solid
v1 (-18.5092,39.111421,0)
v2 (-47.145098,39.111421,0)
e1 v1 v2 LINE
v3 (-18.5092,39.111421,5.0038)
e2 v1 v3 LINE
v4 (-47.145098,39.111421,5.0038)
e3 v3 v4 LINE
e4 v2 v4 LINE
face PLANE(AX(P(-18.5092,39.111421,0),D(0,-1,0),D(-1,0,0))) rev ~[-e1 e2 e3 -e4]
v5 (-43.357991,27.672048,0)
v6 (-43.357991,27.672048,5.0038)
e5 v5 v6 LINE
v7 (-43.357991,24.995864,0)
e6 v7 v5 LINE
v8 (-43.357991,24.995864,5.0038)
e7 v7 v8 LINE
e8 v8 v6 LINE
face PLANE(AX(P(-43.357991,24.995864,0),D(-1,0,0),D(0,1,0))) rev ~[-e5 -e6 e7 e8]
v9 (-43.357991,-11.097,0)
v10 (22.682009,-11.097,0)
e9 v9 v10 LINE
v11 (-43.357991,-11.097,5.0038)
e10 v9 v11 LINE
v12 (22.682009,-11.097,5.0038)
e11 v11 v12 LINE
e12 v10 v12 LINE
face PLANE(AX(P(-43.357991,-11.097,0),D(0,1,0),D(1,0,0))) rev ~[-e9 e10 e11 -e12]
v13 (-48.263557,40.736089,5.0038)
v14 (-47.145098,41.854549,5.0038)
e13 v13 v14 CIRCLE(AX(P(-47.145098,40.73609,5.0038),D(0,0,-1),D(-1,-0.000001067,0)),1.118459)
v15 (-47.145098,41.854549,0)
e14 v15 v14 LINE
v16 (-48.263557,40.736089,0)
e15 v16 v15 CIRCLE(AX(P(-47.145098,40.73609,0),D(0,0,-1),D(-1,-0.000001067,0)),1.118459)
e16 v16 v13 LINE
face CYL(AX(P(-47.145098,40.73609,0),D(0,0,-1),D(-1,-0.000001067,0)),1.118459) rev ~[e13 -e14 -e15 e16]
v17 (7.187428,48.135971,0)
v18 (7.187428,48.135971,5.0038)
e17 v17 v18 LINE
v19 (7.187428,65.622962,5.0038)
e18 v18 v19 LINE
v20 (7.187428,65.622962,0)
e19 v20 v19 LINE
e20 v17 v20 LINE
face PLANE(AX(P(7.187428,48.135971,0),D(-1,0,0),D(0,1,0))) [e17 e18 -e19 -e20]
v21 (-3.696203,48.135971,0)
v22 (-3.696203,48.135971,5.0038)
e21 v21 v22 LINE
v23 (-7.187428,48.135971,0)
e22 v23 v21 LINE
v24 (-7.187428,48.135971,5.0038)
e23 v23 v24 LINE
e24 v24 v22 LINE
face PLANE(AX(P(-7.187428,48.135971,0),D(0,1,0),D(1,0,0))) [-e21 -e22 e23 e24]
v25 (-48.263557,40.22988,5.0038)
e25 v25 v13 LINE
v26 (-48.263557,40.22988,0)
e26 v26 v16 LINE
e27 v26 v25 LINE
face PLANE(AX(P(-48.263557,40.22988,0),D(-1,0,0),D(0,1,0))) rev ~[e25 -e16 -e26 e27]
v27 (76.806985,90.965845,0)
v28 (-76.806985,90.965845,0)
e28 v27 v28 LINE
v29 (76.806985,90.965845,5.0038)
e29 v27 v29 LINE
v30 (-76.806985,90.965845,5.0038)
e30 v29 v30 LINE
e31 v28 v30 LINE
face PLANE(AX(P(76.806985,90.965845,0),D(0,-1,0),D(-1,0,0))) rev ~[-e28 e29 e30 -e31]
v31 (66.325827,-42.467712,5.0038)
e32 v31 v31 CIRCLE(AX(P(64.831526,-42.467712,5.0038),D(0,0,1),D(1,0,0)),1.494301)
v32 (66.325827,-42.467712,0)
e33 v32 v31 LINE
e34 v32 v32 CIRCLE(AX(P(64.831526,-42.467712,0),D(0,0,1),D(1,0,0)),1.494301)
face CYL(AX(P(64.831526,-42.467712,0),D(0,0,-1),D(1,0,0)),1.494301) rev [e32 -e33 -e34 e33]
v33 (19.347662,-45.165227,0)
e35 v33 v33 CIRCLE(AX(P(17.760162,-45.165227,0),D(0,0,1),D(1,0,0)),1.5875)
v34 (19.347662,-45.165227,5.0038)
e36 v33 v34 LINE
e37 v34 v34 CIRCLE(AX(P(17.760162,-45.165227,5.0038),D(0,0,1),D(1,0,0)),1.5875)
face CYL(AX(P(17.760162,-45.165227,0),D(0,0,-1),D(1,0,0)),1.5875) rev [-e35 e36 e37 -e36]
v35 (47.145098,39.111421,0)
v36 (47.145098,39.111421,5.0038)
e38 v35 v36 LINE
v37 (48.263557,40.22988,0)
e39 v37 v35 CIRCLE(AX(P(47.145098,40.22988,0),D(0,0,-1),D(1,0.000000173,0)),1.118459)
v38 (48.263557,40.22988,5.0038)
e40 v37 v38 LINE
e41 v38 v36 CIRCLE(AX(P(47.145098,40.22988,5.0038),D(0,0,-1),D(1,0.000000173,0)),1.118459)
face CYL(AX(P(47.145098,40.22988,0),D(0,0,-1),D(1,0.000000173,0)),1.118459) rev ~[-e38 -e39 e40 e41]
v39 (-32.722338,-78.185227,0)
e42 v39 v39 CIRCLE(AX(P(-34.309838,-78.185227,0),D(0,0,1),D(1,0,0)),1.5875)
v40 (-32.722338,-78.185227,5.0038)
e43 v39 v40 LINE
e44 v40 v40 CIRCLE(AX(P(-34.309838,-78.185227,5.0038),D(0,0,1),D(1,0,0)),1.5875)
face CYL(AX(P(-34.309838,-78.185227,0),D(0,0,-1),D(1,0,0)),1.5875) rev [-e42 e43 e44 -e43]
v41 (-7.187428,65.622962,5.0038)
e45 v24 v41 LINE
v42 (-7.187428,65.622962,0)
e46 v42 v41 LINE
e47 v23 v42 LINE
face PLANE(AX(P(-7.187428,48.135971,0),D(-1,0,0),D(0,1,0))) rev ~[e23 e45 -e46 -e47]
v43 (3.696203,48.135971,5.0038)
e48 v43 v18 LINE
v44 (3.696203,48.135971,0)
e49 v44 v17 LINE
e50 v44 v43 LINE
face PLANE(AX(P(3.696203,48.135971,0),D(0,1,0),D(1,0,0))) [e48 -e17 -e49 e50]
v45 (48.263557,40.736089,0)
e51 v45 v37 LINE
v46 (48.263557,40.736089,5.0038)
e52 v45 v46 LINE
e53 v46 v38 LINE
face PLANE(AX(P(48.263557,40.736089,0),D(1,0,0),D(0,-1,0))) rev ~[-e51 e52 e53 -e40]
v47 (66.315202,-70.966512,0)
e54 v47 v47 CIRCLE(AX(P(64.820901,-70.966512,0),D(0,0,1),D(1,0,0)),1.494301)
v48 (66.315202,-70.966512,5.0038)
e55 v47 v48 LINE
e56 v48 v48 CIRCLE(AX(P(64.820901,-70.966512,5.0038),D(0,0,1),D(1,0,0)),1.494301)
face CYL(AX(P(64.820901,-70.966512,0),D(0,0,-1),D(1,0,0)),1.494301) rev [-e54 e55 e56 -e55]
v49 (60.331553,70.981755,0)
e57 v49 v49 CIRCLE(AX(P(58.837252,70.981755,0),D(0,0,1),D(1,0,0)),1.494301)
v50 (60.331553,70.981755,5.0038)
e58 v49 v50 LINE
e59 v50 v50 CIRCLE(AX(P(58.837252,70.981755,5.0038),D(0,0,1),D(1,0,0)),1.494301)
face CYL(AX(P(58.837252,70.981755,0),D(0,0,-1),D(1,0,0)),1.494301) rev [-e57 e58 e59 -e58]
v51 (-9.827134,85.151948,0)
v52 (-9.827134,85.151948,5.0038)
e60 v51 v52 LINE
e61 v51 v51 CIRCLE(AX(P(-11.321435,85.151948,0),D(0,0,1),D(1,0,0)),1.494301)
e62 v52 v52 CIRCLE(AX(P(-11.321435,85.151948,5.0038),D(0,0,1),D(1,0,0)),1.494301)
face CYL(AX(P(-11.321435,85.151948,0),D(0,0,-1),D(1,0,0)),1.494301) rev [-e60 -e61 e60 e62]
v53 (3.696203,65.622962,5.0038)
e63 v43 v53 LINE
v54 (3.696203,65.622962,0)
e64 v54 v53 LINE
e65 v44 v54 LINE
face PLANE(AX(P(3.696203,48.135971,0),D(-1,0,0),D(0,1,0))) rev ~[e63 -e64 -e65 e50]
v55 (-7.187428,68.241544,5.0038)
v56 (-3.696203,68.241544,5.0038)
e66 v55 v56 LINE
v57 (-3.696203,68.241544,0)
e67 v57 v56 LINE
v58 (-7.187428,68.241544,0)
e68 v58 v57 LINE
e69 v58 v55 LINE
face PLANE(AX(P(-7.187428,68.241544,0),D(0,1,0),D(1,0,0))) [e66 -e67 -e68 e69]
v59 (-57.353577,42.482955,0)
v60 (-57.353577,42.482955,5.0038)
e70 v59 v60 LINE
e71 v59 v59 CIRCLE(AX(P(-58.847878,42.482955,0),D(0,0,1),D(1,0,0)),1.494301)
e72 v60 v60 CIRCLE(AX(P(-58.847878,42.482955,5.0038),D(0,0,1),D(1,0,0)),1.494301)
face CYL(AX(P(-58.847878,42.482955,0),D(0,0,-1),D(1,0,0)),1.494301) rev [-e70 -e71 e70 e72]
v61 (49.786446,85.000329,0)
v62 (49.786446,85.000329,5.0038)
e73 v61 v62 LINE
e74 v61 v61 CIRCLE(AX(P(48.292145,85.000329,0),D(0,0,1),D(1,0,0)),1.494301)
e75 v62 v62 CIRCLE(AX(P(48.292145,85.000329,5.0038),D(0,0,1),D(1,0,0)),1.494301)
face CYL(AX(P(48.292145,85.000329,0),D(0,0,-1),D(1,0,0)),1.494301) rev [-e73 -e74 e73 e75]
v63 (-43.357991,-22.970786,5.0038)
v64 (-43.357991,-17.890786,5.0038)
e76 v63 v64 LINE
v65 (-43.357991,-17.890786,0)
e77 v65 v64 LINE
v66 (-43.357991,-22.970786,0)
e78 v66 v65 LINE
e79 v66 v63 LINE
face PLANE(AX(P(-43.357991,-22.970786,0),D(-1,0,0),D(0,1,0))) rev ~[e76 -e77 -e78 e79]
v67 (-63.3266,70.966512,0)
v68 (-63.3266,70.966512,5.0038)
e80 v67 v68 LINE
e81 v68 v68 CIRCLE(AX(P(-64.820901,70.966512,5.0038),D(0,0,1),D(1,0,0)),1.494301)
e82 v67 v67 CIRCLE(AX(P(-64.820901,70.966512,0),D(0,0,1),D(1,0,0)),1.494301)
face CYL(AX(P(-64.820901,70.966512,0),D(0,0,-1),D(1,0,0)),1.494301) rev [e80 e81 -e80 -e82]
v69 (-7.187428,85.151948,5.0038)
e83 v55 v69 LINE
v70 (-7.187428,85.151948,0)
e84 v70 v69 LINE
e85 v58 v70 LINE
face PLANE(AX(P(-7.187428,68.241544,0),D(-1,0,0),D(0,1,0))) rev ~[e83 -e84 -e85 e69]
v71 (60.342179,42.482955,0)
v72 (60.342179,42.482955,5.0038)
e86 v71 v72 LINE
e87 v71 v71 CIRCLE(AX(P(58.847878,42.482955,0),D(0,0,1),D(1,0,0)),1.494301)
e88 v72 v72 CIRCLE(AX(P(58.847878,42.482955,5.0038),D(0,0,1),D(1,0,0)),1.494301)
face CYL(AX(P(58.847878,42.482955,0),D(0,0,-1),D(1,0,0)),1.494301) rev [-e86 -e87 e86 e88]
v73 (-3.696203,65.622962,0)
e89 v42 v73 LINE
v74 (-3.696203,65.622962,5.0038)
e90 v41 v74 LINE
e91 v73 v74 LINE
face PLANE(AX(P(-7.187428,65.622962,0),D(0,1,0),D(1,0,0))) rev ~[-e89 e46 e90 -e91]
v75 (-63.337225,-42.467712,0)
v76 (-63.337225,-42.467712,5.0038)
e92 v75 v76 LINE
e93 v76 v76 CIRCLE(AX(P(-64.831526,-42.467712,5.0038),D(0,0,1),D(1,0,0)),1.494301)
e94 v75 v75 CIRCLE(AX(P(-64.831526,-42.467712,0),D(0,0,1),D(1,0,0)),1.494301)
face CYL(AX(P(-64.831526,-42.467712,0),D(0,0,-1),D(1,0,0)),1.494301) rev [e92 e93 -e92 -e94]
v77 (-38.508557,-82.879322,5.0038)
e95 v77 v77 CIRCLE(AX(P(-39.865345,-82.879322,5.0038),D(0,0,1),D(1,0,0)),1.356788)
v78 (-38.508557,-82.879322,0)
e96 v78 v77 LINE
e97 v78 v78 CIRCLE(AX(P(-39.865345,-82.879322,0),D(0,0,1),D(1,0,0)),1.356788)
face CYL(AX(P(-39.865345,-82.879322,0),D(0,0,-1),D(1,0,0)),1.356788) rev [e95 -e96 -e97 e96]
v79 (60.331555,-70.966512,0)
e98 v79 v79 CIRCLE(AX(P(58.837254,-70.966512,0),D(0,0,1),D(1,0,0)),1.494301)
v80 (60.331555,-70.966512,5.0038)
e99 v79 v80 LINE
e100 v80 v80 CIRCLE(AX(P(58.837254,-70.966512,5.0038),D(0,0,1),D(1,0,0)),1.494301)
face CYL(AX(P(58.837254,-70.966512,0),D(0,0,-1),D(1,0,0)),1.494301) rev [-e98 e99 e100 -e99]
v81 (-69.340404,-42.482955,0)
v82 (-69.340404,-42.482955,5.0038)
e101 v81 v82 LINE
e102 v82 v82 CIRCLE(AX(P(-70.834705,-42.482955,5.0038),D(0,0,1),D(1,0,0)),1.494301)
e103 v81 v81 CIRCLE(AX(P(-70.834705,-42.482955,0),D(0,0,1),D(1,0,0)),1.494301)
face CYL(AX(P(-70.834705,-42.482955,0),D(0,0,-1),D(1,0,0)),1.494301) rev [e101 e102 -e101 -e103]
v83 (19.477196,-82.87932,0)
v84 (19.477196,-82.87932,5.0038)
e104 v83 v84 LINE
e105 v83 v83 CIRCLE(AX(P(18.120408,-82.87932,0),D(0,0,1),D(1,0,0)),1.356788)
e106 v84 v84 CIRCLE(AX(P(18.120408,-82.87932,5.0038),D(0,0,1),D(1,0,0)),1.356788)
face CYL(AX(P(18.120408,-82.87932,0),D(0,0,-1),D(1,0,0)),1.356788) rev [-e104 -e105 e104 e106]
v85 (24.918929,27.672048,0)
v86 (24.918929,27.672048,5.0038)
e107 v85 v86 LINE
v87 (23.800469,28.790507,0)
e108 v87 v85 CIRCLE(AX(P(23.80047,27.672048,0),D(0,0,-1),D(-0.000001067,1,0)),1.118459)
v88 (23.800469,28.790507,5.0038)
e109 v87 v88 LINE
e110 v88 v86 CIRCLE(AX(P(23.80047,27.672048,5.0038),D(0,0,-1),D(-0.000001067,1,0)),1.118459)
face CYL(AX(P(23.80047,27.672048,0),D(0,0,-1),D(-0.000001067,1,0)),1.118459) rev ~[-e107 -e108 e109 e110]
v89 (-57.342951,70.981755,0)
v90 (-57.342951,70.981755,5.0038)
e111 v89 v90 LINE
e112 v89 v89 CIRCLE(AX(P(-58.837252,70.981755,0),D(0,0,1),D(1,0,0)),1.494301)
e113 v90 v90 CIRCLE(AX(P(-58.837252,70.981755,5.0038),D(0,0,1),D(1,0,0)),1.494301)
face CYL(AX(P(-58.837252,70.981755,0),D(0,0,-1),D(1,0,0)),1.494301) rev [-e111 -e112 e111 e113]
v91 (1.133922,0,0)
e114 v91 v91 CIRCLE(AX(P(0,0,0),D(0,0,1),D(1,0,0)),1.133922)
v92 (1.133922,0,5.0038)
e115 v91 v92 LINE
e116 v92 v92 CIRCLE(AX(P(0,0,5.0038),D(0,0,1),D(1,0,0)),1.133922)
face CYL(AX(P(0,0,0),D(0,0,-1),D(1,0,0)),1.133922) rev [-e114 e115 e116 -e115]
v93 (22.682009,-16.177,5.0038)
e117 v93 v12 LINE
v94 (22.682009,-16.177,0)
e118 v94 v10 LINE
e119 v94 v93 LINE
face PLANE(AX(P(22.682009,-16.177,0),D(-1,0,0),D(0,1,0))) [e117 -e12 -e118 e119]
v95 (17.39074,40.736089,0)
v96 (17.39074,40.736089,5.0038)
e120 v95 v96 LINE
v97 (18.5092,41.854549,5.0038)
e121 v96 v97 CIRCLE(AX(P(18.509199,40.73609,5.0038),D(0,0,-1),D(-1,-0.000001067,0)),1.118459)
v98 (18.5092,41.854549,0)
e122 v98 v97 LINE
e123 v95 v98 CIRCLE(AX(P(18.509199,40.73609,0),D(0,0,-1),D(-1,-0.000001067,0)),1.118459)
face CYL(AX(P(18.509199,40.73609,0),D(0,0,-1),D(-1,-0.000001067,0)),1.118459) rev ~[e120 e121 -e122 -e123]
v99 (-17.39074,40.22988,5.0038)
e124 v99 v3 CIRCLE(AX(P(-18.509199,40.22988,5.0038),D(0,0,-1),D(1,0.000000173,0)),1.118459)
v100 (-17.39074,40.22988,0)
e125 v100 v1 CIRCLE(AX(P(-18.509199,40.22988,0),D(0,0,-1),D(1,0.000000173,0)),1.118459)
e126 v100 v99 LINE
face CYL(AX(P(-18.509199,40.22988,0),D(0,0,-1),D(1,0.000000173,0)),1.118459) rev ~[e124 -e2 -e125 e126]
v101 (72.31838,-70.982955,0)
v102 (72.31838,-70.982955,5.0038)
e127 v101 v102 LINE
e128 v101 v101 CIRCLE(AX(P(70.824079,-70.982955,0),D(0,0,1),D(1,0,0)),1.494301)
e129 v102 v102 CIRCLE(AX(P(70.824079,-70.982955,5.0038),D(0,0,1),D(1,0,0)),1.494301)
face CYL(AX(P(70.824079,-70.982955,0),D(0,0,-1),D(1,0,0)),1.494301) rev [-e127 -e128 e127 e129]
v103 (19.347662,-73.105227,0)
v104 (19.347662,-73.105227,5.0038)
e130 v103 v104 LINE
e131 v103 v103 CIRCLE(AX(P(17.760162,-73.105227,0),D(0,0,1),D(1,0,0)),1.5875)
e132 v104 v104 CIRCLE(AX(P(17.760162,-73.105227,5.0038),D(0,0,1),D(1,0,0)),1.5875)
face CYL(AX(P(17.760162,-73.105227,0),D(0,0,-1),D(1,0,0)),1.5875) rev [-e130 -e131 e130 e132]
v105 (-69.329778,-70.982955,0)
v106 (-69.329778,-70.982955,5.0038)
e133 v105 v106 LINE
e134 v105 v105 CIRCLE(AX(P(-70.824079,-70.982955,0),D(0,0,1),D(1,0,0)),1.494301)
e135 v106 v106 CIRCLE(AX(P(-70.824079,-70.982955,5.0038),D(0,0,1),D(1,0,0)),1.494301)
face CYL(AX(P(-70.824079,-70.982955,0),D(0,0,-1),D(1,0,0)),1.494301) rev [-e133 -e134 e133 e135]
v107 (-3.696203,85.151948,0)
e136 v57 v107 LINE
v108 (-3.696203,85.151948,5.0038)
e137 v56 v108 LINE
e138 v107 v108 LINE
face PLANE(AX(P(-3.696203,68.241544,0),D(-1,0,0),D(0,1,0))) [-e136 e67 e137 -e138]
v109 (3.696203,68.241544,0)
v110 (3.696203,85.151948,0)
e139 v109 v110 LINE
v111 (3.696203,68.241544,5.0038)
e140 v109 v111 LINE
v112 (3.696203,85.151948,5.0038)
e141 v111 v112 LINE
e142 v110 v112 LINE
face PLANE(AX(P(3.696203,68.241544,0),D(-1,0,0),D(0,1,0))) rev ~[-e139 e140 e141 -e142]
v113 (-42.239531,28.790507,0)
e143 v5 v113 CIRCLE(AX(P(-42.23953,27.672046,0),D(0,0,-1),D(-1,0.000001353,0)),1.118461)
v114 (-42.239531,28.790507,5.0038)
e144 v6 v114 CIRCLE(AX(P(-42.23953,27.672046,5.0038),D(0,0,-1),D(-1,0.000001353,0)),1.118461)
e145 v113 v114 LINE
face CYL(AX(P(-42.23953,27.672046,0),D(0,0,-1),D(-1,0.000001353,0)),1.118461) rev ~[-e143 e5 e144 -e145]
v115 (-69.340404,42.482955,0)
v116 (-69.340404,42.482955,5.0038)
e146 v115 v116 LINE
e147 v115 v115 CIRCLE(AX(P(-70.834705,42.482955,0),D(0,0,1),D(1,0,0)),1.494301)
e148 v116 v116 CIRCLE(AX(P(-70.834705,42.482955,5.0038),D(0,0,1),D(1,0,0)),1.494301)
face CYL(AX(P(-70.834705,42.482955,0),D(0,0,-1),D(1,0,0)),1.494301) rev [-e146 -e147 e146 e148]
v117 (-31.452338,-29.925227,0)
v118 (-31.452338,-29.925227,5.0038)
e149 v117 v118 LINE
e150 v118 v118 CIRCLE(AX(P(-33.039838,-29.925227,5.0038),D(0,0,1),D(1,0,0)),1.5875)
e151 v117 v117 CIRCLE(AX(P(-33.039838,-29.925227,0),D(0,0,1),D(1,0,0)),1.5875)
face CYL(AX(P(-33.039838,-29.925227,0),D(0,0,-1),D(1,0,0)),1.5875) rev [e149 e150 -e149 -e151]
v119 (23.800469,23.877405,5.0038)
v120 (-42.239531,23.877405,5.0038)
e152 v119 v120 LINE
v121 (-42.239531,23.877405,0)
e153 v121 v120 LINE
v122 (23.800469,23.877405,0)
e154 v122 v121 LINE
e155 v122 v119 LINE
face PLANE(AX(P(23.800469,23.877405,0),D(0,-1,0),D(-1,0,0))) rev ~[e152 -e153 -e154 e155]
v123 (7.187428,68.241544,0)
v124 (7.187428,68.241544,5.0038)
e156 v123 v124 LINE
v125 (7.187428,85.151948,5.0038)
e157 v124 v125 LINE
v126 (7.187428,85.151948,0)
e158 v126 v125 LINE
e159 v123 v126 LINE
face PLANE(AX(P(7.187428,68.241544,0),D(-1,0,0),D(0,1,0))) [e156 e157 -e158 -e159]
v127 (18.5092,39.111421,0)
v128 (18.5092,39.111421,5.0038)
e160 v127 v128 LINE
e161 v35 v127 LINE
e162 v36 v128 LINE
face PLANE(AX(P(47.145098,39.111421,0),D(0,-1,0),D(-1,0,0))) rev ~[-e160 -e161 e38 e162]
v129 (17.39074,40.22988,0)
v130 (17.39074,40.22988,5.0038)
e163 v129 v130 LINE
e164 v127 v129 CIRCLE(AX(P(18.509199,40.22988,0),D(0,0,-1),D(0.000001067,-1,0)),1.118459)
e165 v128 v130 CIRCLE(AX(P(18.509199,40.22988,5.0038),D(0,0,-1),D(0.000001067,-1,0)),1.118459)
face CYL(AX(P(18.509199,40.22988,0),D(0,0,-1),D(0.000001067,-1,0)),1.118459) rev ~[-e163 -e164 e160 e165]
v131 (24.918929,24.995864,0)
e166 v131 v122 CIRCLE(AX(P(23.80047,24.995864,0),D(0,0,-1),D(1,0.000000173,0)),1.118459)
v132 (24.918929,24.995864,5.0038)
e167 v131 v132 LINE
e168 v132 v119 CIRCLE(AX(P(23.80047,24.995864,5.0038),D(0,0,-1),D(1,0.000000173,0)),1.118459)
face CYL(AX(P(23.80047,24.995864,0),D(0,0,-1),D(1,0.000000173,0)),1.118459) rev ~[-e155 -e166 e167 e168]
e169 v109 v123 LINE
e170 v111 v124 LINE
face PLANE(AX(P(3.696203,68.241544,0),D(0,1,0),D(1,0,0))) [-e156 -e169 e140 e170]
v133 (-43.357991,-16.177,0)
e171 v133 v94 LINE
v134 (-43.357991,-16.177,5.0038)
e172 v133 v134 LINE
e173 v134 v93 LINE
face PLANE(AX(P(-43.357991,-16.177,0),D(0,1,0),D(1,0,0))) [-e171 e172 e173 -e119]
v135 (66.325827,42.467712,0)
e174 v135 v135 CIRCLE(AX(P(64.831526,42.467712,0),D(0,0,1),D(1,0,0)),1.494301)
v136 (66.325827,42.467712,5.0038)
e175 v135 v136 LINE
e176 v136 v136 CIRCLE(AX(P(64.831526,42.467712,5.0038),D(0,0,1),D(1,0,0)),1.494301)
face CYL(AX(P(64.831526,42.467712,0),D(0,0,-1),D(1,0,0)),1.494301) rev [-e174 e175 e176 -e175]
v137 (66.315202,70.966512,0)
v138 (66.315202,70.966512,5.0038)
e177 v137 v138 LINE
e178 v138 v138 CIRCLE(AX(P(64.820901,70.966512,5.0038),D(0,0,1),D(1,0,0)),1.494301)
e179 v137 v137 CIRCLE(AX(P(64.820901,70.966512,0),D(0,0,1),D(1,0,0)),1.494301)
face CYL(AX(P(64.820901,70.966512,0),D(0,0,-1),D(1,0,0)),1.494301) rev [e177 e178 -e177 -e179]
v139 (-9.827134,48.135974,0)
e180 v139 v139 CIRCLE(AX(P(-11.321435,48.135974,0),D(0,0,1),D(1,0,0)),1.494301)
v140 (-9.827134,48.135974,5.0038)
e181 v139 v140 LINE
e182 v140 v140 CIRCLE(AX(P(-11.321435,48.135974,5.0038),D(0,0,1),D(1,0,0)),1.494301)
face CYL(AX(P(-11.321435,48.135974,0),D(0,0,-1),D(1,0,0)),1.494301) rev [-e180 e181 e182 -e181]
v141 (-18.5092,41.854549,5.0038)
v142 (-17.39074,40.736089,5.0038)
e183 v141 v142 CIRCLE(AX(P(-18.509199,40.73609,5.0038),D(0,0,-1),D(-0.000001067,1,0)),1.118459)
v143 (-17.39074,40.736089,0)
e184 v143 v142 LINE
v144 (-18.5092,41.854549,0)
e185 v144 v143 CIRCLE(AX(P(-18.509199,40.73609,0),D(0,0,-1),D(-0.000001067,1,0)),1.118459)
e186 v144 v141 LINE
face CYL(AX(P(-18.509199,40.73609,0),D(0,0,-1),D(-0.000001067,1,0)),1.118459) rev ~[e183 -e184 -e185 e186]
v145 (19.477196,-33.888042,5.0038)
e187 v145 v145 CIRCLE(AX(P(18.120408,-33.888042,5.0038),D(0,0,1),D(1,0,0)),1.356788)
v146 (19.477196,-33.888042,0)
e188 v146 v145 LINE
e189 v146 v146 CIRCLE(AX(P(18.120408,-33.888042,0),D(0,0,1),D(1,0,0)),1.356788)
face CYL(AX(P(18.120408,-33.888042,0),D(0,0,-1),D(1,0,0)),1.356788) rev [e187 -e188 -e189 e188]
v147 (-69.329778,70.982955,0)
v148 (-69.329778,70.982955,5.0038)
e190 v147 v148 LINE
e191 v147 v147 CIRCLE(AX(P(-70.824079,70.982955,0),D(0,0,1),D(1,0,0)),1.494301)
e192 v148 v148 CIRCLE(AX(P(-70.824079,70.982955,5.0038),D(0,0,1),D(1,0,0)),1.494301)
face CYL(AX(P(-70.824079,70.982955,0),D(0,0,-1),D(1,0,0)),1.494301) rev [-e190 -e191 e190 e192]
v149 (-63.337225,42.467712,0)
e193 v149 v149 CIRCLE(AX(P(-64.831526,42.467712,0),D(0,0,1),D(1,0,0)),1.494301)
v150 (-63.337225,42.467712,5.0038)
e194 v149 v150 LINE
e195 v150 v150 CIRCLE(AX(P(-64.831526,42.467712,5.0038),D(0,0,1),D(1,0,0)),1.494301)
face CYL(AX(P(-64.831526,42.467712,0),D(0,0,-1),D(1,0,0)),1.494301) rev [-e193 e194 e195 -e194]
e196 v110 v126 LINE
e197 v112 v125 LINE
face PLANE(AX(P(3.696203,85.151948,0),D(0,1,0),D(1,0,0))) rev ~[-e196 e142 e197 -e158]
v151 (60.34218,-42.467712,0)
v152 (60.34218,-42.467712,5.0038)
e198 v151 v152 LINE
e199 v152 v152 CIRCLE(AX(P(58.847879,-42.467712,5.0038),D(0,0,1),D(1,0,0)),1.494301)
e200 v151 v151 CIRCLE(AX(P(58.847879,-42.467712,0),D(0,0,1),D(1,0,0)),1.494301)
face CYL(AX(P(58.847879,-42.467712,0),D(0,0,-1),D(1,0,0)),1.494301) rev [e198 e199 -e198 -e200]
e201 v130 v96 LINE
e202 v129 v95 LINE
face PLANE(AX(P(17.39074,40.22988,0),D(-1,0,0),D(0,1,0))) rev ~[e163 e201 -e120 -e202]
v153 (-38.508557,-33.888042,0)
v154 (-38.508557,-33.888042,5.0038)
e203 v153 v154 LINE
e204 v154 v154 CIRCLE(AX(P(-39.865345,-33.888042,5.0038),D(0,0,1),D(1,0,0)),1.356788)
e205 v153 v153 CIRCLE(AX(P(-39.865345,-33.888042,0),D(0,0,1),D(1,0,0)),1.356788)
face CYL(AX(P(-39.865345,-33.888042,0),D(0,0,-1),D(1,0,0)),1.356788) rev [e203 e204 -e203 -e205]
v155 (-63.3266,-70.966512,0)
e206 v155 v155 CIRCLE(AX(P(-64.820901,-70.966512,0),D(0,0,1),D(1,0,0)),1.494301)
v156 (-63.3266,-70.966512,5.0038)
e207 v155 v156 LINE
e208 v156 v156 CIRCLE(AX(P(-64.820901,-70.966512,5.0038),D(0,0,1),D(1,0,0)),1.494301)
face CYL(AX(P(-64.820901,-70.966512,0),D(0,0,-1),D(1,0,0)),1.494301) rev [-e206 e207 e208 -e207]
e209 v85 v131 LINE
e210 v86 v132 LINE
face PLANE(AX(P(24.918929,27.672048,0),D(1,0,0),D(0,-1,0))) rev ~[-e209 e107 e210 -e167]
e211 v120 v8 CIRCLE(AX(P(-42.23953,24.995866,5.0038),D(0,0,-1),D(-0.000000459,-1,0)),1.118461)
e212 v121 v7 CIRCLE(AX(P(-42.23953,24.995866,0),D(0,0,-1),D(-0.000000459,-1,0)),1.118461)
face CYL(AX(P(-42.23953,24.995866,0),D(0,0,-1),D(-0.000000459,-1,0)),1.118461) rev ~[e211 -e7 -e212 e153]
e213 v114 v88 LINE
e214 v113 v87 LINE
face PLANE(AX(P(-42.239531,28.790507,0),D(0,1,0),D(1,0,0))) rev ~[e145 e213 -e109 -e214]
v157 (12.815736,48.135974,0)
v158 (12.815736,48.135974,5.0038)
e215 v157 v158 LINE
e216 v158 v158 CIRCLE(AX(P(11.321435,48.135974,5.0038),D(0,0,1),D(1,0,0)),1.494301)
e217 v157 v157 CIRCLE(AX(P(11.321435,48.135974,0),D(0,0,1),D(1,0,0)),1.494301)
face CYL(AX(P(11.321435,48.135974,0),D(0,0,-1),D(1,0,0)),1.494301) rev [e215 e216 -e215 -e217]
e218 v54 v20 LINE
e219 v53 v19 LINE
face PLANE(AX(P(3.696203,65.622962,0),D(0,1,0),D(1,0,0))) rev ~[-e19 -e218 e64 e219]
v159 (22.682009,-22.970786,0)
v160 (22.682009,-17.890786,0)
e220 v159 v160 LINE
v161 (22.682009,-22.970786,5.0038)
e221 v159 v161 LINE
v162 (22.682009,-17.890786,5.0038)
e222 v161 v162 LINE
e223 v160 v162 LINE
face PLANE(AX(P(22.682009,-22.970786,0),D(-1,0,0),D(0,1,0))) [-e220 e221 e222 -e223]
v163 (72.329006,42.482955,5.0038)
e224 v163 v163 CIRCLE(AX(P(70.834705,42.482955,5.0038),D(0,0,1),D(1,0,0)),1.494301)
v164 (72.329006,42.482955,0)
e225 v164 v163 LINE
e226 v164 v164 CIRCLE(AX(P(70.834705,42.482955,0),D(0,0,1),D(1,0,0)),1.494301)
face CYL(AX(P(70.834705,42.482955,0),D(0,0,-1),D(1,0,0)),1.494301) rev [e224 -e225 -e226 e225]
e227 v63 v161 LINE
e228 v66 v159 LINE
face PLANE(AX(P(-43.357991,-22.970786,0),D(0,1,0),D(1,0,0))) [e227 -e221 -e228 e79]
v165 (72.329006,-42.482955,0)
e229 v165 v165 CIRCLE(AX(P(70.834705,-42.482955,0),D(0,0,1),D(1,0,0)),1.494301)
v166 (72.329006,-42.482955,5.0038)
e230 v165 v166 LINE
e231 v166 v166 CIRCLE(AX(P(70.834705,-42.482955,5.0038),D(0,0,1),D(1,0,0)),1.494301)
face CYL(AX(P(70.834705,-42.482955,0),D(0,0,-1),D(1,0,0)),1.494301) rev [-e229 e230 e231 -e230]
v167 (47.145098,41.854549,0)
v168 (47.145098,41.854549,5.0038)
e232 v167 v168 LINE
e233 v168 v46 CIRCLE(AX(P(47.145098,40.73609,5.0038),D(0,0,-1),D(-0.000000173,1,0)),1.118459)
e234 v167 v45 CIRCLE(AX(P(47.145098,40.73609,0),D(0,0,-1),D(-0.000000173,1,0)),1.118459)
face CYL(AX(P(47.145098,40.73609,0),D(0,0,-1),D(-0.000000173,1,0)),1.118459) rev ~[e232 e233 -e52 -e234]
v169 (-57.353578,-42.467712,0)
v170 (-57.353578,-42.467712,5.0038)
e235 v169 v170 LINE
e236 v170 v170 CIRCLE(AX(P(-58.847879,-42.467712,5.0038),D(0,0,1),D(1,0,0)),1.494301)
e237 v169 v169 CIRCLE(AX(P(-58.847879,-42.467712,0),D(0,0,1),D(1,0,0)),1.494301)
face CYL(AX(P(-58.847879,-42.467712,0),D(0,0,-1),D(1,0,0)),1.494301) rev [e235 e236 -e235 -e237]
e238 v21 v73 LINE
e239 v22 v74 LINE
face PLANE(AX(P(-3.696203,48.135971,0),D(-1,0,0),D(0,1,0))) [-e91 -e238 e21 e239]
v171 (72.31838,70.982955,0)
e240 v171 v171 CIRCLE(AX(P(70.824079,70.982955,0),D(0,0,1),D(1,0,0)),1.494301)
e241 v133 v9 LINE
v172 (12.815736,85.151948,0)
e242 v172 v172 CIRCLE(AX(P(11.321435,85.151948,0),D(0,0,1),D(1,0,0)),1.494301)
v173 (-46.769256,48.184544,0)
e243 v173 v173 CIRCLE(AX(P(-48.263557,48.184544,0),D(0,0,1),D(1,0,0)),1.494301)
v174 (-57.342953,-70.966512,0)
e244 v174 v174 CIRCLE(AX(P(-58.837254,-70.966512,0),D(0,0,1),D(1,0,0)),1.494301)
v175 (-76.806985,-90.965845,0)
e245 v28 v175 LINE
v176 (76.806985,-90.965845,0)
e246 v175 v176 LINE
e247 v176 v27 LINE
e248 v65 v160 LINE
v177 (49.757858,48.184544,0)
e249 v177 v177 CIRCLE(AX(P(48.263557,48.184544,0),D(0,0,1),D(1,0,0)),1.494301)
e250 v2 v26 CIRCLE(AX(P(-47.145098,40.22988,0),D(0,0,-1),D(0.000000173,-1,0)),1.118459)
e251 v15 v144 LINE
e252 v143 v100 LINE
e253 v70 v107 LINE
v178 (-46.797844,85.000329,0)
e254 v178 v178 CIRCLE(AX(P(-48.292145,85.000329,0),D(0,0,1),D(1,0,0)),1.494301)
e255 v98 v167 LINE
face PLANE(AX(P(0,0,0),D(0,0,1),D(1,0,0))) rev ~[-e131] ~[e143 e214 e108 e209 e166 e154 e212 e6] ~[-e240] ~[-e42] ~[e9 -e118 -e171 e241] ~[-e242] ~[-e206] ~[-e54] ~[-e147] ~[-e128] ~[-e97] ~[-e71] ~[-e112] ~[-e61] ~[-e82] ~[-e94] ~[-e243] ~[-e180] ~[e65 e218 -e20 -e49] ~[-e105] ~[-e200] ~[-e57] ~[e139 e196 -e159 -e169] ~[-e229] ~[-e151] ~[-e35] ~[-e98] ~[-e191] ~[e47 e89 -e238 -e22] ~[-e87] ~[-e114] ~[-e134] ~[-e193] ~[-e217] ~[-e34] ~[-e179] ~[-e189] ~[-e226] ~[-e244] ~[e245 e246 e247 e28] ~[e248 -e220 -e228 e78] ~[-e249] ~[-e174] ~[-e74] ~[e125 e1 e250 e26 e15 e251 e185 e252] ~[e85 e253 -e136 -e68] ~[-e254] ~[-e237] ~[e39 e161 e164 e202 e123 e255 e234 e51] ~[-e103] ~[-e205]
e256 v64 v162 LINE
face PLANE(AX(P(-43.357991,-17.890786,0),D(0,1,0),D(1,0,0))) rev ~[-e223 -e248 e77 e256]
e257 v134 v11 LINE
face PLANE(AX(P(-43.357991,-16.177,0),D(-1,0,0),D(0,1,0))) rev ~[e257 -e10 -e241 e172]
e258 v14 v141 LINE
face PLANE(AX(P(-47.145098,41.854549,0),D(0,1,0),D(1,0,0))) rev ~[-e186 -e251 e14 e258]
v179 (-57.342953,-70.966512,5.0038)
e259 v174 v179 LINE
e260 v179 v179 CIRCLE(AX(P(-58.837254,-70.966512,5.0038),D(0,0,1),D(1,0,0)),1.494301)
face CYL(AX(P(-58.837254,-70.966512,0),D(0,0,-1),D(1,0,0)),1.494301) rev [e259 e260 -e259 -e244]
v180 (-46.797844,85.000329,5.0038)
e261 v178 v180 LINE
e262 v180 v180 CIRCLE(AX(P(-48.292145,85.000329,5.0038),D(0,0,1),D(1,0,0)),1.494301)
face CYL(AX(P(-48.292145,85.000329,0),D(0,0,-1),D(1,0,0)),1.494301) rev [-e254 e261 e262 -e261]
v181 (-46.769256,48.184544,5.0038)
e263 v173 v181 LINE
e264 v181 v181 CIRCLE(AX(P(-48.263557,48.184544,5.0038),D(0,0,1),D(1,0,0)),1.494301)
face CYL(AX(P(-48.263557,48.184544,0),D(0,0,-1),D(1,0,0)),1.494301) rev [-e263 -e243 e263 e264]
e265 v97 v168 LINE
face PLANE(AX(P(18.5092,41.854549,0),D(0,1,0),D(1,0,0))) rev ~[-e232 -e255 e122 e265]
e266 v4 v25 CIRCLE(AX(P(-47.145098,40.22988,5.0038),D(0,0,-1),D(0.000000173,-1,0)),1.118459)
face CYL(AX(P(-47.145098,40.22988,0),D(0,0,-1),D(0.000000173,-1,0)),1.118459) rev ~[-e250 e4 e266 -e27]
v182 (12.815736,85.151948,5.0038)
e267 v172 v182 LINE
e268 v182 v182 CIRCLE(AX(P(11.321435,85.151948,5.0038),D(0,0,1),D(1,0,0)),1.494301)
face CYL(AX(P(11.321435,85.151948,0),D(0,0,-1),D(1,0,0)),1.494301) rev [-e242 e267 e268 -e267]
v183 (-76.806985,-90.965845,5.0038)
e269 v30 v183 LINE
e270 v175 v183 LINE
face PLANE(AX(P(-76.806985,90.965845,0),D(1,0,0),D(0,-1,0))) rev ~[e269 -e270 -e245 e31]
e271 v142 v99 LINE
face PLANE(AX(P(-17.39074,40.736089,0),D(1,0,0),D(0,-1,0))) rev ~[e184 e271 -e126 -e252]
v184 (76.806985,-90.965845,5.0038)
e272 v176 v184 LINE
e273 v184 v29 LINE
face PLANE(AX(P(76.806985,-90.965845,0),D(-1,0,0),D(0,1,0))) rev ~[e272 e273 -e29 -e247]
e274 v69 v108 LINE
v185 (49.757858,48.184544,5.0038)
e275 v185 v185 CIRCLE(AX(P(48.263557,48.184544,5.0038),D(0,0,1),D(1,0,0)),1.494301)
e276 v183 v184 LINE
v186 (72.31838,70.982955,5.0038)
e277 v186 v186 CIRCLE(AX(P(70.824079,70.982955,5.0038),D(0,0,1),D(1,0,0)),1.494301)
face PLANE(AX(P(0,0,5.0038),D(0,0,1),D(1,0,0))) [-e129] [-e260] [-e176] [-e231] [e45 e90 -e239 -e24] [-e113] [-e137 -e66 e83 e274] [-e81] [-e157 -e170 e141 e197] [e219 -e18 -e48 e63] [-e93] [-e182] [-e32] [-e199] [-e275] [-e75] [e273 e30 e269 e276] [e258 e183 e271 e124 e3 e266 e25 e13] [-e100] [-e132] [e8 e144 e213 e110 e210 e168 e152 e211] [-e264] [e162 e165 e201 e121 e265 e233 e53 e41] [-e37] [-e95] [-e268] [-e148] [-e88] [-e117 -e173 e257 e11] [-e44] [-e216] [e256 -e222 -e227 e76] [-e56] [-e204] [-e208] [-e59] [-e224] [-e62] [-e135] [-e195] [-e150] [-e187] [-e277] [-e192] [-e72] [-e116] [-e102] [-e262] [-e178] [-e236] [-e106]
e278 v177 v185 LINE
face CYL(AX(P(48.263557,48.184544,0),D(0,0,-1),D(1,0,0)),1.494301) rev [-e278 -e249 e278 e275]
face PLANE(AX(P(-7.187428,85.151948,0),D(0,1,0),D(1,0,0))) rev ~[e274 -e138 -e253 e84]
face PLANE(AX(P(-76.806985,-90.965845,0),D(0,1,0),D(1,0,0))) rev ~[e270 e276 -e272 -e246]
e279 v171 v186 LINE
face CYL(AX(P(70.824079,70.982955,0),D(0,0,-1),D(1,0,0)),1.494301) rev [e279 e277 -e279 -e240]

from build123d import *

# Parameters (mm, degrees)
F0_R     = 1.494301
F0_R_2   = 1.356788
F0_R_3   = 1.5875
F0_W     = 66.04
F0_H     = 5.08
F0_W_2   = 3.491225
F0_H_2   = 17.486991
F0_H_3   = 16.910404
F0_R_4   = 1.133922
F1_DEPTH = 5.0038


with BuildPart() as f1:
    # F0 (on Top) → F1 (new body)
    with BuildSketch(Plane.XY):
        Polygon((70.456985, 90.965845), (-70.456985, 90.965845), (-76.806985, 90.965845), (-76.806985, 84.615845), (-76.806985, -84.615845), (-76.806985, -90.965845), (-70.456985, -90.965845), (70.456985, -90.965845), (76.806985, -90.965845), (76.806985, -84.615845), (76.806985, 84.615845), (76.806985, 90.965845), align=None)
        with Locations((-70.824079, -70.982955)):
            Circle(F0_R, mode=Mode.SUBTRACT)
        with Locations((-64.820901, -70.966512)):
            Circle(F0_R, mode=Mode.SUBTRACT)
        with Locations((-58.837254, -70.966512)):
            Circle(F0_R, mode=Mode.SUBTRACT)
        with Locations((-39.865345, -82.879322)):
            Circle(F0_R_2, mode=Mode.SUBTRACT)
        with Locations((-34.309838, -78.185227)):
            Circle(F0_R_3, mode=Mode.SUBTRACT)
        with Locations((-70.834705, -42.482955)):
            Circle(F0_R, mode=Mode.SUBTRACT)
        with Locations((-64.831526, -42.467712)):
            Circle(F0_R, mode=Mode.SUBTRACT)
        with Locations((-58.847879, -42.467712)):
            Circle(F0_R, mode=Mode.SUBTRACT)
        with Locations((-39.865345, -33.888042)):
            Circle(F0_R_2, mode=Mode.SUBTRACT)
        with Locations((-33.039838, -29.925227)):
            Circle(F0_R_3, mode=Mode.SUBTRACT)
        with Locations((-10.337991, -20.430786)):
            Rectangle(F0_W, F0_H, mode=Mode.SUBTRACT)
        with Locations((-10.337991, -13.637)):
            Rectangle(F0_W, F0_H, mode=Mode.SUBTRACT)
        with Locations((18.120408, -82.87932)):
            Circle(F0_R_2, mode=Mode.SUBTRACT)
        with Locations((17.760162, -73.105227)):
            Circle(F0_R_3, mode=Mode.SUBTRACT)
        with Locations((58.837254, -70.966512)):
            Circle(F0_R, mode=Mode.SUBTRACT)
        with Locations((64.820901, -70.966512)):
            Circle(F0_R, mode=Mode.SUBTRACT)
        with Locations((70.824079, -70.982955)):
            Circle(F0_R, mode=Mode.SUBTRACT)
        with Locations((17.760162, -45.165227)):
            Circle(F0_R_3, mode=Mode.SUBTRACT)
        with Locations((18.120408, -33.888042)):
            Circle(F0_R_2, mode=Mode.SUBTRACT)
        with Locations((58.847879, -42.467712)):
            Circle(F0_R, mode=Mode.SUBTRACT)
        with Locations((64.831526, -42.467712)):
            Circle(F0_R, mode=Mode.SUBTRACT)
        with Locations((70.834705, -42.482955)):
            Circle(F0_R, mode=Mode.SUBTRACT)
        with Locations((-70.834705, 42.482955)):
            Circle(F0_R, mode=Mode.SUBTRACT)
        with Locations((-64.831526, 42.467712)):
            Circle(F0_R, mode=Mode.SUBTRACT)
        with Locations((-58.847878, 42.482955)):
            Circle(F0_R, mode=Mode.SUBTRACT)
        with BuildLine():
            ThreePointArc((-48.263557, 40.736089), (-47.935968, 41.52696), (-47.145098, 41.854549))
            Line((-47.145098, 41.854549), (-34.13846, 41.854549))
            Line((-34.13846, 41.854549), (-31.515838, 41.854549))
            Line((-31.515838, 41.854549), (-18.5092, 41.854549))
            ThreePointArc((-18.5092, 41.854549), (-17.718329, 41.52696), (-17.39074, 40.736089))
            Line((-17.39074, 40.736089), (-17.39074, 40.22988))
            ThreePointArc((-17.39074, 40.22988), (-17.718329, 39.43901), (-18.5092, 39.111421))
            Line((-18.5092, 39.111421), (-31.515838, 39.111421))
            Line((-31.515838, 39.111421), (-34.13846, 39.111421))
            Line((-34.13846, 39.111421), (-47.145098, 39.111421))
            ThreePointArc((-47.145098, 39.111421), (-47.935968, 39.43901), (-48.263557, 40.22988))
            Line((-48.263557, 40.22988), (-48.263557, 40.736089))
        make_face(mode=Mode.SUBTRACT)
        with BuildLine():
            Line((23.800469, 23.877405), (-42.239531, 23.877405))
            ThreePointArc((-42.239531, 23.877405), (-43.030401, 24.204994), (-43.357991, 24.995864))
            Line((-43.357991, 24.995864), (-43.357991, 27.672048))
            ThreePointArc((-43.357991, 27.672048), (-43.030401, 28.462918), (-42.239531, 28.790507))
            Line((-42.239531, 28.790507), (15.032583, 28.790507))
            Line((15.032583, 28.790507), (19.658049, 28.790507))
            Line((19.658049, 28.790507), (23.800469, 28.790507))
            ThreePointArc((23.800469, 28.790507), (24.59134, 28.462918), (24.918929, 27.672048))
            Line((24.918929, 27.672048), (24.918929, 24.995864))
            ThreePointArc((24.918929, 24.995864), (24.59134, 24.204994), (23.800469, 23.877405))
        make_face(mode=Mode.SUBTRACT)
        with Locations((-48.263557, 48.184544)):
            Circle(F0_R, mode=Mode.SUBTRACT)
        with Locations((-70.824079, 70.982955)):
            Circle(F0_R, mode=Mode.SUBTRACT)
        with Locations((-64.820901, 70.966512)):
            Circle(F0_R, mode=Mode.SUBTRACT)
        with Locations((-58.837252, 70.981755)):
            Circle(F0_R, mode=Mode.SUBTRACT)
        with Locations((-48.292145, 85.000329)):
            Circle(F0_R, mode=Mode.SUBTRACT)
        with Locations((-11.321435, 48.135974)):
            Circle(F0_R, mode=Mode.SUBTRACT)
        with Locations((-5.441815, 56.879467)):
            Rectangle(F0_W_2, F0_H_2, mode=Mode.SUBTRACT)
        with Locations((-5.441815, 76.696746)):
            Rectangle(F0_W_2, F0_H_3, mode=Mode.SUBTRACT)
        with Locations((-11.321435, 85.151948)):
            Circle(F0_R, mode=Mode.SUBTRACT)
        Circle(F0_R_4, mode=Mode.SUBTRACT)
        with BuildLine():
            Line((31.515838, 39.111421), (18.5092, 39.111421))
            ThreePointArc((18.5092, 39.111421), (17.718329, 39.43901), (17.39074, 40.22988))
            Line((17.39074, 40.22988), (17.39074, 40.736089))
            ThreePointArc((17.39074, 40.736089), (17.718329, 41.52696), (18.5092, 41.854549))
            Line((18.5092, 41.854549), (31.515838, 41.854549))
            Line((31.515838, 41.854549), (34.13846, 41.854549))
            Line((34.13846, 41.854549), (47.145098, 41.854549))
            ThreePointArc((47.145098, 41.854549), (47.935968, 41.52696), (48.263557, 40.736089))
            Line((48.263557, 40.736089), (48.263557, 40.22988))
            ThreePointArc((48.263557, 40.22988), (47.935968, 39.43901), (47.145098, 39.111421))
            Line((47.145098, 39.111421), (34.13846, 39.111421))
            Line((34.13846, 39.111421), (31.515838, 39.111421))
        make_face(mode=Mode.SUBTRACT)
        with Locations((58.847878, 42.482955)):
            Circle(F0_R, mode=Mode.SUBTRACT)
        with Locations((64.831526, 42.467712)):
            Circle(F0_R, mode=Mode.SUBTRACT)
        with Locations((70.834705, 42.482955)):
            Circle(F0_R, mode=Mode.SUBTRACT)
        with Locations((11.321435, 48.135974)):
            Circle(F0_R, mode=Mode.SUBTRACT)
        with Locations((5.441815, 56.879467)):
            Rectangle(F0_W_2, F0_H_2, mode=Mode.SUBTRACT)
        with Locations((5.441815, 76.696746)):
            Rectangle(F0_W_2, F0_H_3, mode=Mode.SUBTRACT)
        with Locations((11.321435, 85.151948)):
            Circle(F0_R, mode=Mode.SUBTRACT)
        with Locations((48.263557, 48.184544)):
            Circle(F0_R, mode=Mode.SUBTRACT)
        with Locations((48.292145, 85.000329)):
            Circle(F0_R, mode=Mode.SUBTRACT)
        with Locations((58.837252, 70.981755)):
            Circle(F0_R, mode=Mode.SUBTRACT)
        with Locations((64.820901, 70.966512)):
            Circle(F0_R, mode=Mode.SUBTRACT)
        with Locations((70.824079, 70.982955)):
            Circle(F0_R, mode=Mode.SUBTRACT)
    extrude(amount=F1_DEPTH)


solid = f1.part
